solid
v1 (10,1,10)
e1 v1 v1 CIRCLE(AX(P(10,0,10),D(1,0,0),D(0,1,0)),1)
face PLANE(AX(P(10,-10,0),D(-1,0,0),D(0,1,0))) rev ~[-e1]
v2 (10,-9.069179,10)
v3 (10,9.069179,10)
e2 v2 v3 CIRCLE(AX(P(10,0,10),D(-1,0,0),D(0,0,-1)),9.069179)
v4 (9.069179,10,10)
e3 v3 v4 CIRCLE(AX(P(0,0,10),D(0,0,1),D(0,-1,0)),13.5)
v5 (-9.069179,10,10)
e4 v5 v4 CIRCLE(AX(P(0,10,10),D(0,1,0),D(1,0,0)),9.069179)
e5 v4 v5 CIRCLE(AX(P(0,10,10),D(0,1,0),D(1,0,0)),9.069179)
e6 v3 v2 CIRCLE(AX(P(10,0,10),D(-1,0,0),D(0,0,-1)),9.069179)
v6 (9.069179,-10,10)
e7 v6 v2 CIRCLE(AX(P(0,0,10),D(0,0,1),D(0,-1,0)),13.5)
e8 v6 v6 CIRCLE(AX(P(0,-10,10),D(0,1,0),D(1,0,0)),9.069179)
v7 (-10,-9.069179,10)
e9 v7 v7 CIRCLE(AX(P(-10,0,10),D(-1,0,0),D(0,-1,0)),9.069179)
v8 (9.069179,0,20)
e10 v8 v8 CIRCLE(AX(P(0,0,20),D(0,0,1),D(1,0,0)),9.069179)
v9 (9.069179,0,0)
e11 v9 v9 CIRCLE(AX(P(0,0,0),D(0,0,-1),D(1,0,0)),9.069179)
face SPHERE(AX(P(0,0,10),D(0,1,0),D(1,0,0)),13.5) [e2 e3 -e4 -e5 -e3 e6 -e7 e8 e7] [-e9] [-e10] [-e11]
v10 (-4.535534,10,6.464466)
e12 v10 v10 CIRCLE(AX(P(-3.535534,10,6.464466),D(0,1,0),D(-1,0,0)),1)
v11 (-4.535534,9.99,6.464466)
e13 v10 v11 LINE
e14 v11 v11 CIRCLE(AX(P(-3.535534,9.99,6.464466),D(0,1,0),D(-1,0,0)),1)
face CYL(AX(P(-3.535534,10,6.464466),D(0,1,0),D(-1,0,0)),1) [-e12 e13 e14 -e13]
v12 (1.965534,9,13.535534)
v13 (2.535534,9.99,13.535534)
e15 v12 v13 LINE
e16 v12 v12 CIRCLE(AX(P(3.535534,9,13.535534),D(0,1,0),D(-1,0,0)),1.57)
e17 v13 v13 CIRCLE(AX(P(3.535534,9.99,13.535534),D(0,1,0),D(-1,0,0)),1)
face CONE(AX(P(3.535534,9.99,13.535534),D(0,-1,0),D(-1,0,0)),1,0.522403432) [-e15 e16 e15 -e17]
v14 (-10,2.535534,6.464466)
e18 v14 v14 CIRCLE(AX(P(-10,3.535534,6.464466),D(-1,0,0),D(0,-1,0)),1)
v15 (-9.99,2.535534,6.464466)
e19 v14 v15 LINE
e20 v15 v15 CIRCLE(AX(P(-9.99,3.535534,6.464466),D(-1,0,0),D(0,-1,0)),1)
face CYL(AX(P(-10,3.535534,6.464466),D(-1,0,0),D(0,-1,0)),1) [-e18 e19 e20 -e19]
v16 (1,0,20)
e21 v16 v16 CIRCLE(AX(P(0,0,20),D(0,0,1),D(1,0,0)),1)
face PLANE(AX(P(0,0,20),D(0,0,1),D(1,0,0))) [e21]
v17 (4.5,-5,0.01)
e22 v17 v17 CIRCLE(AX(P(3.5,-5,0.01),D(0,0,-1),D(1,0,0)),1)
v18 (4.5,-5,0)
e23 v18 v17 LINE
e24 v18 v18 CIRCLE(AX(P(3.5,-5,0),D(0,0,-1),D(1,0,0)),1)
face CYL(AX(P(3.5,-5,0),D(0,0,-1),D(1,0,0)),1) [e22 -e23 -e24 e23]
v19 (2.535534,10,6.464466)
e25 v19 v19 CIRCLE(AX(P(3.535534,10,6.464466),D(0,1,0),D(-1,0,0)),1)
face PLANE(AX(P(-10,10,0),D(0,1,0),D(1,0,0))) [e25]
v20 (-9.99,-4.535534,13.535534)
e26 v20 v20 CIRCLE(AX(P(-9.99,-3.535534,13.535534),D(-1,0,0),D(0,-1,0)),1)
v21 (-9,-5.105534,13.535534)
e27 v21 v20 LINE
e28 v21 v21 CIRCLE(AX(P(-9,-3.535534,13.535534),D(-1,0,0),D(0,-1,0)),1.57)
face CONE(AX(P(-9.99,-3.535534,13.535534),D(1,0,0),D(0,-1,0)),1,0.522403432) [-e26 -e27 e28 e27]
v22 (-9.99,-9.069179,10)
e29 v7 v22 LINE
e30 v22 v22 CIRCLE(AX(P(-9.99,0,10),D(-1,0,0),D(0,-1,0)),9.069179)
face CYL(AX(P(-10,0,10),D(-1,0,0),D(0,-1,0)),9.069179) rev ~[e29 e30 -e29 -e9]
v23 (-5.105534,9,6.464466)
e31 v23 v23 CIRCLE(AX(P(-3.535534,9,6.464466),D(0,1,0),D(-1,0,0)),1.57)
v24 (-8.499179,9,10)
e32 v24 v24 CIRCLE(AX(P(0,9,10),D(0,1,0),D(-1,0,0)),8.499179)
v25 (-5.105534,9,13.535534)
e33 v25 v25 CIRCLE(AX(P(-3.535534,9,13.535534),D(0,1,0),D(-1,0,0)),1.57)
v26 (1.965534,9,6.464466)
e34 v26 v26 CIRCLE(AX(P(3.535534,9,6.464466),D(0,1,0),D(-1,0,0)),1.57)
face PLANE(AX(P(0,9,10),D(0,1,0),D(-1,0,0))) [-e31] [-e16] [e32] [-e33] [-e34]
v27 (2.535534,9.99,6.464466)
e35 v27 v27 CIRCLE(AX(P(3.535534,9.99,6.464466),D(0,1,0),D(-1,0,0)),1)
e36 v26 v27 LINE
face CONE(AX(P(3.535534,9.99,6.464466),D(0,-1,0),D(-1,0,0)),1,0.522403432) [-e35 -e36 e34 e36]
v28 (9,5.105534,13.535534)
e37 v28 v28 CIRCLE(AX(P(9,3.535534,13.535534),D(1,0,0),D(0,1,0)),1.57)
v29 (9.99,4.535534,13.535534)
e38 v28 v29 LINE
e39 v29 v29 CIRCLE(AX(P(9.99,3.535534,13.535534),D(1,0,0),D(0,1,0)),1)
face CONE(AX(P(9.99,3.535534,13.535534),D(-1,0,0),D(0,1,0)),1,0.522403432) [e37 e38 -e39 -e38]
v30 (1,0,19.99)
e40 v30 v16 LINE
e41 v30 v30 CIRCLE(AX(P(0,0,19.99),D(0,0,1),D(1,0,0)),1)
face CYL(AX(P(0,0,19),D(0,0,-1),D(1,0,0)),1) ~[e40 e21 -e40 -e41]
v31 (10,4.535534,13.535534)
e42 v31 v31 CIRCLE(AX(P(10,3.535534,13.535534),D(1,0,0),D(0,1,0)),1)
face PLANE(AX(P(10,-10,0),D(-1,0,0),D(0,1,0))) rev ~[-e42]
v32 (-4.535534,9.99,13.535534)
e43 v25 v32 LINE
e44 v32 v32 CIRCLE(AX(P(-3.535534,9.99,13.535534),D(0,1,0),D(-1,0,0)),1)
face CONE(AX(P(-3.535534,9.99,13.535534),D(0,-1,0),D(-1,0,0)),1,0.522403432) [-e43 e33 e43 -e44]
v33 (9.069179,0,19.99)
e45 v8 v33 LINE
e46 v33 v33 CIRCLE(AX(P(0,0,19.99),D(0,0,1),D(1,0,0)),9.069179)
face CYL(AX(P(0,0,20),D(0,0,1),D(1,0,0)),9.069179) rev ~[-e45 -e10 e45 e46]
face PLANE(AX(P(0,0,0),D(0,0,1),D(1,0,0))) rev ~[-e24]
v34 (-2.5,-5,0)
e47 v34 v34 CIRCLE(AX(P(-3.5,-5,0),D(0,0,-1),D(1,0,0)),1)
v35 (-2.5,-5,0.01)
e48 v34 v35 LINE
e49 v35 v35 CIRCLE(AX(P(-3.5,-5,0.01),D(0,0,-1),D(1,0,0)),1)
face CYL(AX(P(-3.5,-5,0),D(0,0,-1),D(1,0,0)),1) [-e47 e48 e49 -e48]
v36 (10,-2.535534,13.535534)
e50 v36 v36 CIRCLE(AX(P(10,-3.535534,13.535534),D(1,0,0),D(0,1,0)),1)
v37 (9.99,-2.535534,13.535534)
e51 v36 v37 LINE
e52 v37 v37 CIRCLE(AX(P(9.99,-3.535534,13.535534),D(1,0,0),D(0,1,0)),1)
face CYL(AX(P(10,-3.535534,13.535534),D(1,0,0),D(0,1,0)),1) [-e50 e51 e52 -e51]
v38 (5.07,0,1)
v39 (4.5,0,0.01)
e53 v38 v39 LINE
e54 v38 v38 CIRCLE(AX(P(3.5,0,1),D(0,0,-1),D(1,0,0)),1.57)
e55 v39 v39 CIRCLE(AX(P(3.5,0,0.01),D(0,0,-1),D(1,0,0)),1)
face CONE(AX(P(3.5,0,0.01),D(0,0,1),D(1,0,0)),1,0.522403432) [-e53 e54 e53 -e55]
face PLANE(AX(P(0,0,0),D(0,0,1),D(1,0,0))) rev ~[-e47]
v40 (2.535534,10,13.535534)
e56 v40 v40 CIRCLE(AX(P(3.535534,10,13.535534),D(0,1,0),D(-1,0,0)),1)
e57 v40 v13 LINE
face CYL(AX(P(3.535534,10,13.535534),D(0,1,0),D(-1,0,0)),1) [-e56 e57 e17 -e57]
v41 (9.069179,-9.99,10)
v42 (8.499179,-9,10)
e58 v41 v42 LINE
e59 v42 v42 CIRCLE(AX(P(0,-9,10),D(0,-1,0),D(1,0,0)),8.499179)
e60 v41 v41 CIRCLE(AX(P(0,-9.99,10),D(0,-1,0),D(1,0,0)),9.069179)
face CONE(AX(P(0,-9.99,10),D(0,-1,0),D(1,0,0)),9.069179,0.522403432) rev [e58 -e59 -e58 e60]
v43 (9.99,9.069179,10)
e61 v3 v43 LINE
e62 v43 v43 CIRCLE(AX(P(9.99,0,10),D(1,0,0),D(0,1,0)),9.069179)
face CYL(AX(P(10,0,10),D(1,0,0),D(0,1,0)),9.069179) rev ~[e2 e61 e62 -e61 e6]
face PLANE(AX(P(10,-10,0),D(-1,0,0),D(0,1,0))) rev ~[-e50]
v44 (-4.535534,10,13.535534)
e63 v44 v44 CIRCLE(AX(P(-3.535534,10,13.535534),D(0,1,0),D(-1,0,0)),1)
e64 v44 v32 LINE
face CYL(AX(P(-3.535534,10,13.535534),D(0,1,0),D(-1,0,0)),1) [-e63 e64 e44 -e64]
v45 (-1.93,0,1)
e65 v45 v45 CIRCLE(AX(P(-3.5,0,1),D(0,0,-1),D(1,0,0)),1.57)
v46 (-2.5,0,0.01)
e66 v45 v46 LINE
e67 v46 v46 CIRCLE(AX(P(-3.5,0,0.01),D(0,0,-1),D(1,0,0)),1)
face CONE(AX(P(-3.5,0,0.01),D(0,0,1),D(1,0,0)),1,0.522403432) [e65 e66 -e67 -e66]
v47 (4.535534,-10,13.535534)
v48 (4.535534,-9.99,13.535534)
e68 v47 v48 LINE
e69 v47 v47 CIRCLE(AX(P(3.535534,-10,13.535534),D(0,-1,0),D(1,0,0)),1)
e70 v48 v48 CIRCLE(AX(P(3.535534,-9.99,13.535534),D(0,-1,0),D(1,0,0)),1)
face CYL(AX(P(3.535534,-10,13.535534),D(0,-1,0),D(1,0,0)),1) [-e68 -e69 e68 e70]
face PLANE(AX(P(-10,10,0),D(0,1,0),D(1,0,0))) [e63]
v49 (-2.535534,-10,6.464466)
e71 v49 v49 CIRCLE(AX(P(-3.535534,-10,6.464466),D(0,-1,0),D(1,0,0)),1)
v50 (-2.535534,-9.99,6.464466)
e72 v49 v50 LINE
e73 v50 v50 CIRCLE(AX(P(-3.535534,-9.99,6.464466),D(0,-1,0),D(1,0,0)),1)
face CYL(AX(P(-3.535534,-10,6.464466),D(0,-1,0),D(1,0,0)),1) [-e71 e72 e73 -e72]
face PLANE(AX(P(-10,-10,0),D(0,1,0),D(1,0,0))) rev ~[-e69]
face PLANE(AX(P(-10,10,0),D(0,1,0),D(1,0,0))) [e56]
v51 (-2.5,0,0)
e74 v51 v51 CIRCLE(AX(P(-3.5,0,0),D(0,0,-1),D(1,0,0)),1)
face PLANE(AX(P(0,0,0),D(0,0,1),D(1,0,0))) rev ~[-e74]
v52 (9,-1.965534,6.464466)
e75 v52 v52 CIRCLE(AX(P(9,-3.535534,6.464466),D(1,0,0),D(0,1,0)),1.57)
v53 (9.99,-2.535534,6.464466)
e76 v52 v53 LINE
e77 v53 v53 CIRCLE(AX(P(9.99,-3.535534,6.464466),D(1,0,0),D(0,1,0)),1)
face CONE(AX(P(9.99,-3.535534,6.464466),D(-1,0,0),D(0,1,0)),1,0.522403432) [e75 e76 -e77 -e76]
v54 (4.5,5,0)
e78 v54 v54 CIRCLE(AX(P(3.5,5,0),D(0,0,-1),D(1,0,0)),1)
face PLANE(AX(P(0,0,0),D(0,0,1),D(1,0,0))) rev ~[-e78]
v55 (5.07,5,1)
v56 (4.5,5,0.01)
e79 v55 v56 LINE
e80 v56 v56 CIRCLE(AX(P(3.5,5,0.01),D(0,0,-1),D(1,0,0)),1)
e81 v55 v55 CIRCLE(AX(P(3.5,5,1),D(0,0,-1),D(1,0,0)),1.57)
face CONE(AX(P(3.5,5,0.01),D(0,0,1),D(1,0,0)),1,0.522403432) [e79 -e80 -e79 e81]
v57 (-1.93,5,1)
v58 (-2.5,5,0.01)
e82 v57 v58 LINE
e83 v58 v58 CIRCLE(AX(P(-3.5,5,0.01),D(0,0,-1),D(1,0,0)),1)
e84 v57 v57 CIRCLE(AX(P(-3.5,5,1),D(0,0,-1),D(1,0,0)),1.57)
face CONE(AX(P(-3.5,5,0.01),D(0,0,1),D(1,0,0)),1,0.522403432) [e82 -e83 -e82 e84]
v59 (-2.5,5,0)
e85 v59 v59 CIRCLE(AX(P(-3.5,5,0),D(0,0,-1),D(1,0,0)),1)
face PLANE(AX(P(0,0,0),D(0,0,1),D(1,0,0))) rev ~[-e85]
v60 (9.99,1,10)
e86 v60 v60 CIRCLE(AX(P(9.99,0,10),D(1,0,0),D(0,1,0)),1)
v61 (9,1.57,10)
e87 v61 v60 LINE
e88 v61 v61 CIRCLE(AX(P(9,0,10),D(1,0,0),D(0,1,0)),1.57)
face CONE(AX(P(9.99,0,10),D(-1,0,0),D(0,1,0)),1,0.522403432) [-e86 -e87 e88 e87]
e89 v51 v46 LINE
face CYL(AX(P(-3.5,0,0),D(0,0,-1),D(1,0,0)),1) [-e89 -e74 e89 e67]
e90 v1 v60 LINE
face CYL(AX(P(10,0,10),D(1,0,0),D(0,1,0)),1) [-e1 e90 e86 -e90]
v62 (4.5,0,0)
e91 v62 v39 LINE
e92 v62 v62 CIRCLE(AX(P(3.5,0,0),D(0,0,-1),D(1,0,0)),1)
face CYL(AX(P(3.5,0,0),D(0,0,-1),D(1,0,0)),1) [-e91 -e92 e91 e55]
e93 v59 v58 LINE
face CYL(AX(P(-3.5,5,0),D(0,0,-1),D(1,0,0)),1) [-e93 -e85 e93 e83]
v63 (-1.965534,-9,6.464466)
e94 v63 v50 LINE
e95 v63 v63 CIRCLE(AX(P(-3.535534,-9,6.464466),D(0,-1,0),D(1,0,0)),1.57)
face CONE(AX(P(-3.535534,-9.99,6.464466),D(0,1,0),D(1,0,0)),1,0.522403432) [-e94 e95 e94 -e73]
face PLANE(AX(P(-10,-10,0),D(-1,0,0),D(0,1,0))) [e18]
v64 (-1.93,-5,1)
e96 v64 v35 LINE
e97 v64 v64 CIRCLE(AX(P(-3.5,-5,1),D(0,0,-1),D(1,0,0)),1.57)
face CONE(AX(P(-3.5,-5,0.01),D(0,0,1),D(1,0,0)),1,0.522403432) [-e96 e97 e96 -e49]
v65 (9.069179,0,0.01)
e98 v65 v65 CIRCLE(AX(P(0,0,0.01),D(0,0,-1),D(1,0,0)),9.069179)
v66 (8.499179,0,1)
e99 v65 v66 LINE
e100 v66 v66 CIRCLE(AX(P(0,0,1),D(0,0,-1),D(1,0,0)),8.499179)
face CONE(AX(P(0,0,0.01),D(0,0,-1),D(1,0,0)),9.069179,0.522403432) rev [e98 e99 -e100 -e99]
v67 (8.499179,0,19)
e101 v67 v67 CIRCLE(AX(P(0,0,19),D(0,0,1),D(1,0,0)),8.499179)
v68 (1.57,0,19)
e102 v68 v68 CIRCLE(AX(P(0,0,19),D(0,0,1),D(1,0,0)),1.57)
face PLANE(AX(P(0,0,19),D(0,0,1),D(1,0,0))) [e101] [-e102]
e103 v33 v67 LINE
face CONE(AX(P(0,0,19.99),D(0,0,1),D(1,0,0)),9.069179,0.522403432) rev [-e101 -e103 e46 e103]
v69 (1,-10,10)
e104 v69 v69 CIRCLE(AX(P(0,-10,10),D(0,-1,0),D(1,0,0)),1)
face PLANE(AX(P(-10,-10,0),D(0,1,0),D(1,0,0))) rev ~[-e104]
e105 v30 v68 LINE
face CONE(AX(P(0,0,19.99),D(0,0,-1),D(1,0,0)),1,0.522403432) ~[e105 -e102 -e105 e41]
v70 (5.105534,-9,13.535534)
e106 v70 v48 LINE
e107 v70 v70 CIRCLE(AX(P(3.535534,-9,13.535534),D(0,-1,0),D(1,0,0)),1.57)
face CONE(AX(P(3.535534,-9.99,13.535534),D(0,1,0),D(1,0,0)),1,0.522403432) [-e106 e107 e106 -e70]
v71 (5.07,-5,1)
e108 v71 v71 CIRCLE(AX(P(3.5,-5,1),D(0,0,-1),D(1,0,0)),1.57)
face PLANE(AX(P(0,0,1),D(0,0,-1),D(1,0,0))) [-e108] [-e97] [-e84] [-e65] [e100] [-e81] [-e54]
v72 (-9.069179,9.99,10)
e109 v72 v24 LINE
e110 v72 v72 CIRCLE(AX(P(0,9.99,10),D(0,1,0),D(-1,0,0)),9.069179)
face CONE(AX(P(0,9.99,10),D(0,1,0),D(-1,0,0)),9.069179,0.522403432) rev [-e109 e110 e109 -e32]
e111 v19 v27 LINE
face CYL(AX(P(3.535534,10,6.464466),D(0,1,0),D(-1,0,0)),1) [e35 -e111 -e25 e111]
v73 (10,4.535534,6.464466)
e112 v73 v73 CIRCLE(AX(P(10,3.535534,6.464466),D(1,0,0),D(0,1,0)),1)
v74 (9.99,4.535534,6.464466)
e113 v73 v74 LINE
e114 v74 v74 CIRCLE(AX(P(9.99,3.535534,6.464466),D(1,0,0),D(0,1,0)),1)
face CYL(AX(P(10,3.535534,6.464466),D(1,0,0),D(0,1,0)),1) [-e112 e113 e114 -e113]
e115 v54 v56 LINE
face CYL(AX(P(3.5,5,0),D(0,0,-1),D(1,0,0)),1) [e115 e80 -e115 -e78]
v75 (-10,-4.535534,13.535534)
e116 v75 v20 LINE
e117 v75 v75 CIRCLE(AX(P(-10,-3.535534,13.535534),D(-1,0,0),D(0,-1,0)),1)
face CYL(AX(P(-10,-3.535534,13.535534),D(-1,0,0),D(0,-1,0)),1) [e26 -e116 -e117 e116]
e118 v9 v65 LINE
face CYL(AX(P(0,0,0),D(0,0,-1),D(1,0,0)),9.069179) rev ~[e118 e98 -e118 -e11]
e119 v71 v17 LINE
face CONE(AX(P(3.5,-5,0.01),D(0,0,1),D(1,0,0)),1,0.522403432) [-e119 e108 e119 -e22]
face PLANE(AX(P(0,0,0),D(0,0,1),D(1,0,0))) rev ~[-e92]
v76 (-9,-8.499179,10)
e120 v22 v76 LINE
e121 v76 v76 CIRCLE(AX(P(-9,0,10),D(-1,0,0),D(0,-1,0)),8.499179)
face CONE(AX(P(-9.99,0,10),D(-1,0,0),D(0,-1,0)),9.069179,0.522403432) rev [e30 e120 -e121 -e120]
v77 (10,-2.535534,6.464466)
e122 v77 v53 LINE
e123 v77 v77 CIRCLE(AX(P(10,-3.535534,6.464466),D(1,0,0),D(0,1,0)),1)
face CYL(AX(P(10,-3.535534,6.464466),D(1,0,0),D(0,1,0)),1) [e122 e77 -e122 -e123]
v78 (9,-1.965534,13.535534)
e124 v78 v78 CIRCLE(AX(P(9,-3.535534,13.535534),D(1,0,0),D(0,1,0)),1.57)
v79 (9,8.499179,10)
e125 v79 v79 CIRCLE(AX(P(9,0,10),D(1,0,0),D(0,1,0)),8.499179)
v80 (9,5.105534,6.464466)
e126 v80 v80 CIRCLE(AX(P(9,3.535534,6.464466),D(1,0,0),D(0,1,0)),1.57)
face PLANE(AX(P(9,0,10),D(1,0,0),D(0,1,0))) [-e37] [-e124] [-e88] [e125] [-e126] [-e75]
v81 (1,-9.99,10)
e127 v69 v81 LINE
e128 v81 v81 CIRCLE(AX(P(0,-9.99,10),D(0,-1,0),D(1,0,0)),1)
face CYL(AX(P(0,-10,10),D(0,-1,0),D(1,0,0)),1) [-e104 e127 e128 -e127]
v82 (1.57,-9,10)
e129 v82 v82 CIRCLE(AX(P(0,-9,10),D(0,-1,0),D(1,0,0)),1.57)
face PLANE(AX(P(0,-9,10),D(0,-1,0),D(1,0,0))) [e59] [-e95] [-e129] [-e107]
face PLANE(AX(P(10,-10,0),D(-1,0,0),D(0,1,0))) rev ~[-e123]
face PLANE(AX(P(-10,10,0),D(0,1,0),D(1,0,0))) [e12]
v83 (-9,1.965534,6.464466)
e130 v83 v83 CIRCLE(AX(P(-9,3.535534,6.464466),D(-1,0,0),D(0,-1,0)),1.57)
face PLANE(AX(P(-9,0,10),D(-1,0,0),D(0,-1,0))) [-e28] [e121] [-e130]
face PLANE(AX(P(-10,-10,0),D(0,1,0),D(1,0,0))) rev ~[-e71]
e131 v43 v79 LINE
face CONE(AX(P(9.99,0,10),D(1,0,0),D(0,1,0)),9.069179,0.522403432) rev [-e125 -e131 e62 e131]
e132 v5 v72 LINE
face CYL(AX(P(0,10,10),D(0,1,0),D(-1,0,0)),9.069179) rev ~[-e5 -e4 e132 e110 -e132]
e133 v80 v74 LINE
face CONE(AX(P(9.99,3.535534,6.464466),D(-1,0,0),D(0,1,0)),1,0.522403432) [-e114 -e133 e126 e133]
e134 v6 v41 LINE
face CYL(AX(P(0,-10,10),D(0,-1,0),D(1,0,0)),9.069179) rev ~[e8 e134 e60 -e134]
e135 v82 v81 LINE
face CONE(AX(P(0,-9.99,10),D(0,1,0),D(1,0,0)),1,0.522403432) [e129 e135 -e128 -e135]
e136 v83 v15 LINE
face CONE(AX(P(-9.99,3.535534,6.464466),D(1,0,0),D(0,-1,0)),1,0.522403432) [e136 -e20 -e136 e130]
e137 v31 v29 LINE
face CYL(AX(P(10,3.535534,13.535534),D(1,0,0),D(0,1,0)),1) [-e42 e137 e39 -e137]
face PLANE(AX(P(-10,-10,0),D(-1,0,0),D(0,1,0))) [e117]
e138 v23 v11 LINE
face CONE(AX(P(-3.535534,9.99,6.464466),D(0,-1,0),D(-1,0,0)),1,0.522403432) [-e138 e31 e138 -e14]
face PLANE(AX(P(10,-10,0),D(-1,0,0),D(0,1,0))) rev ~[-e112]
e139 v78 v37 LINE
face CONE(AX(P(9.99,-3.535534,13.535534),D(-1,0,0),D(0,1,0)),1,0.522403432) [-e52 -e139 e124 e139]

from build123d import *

# Parameters (mm, degrees)
SKETCH008_R                               = 9.069179
SKETCH008_R_2                             = 1
EXTRUDE009_DEPTH                          = 1
SKETCH007_R                               = 9.069179
SKETCH007_R_2                             = 1
EXTRUDE008_DEPTH                          = 1
SKETCH006_AS_DRAWN_R                      = 9.069179
SKETCH006_AS_DRAWN_R_2                    = 1
EXTRUDE007_DEPTH                          = 1
EXTRUDE007_ONTO_SKETCH006_ROLL_ANGLE      = 90
EXTRUDE007_ONTO_SKETCH006_PLACEMENT_ANGLE = 180
SKETCH005_R                               = 9.069179
SKETCH005_R_2                             = 1
EXTRUDE006_DEPTH                          = 1
SKETCH004_AS_DRAWN_R                      = 9.069179
SKETCH004_AS_DRAWN_R_2                    = 1
EXTRUDE005_DEPTH                          = 1
EXTRUDE005_ONTO_SKETCH004_ROLL_ANGLE      = 90
SKETCH003_R                               = 1
EXTRUDE004_DEPTH                          = 1
SKETCH002_R                               = 9.069179
EXTRUDE_DEPTH                             = 1
SKETCH001_W                               = 20
SKETCH001_H                               = 20
EXTRUDE003_DEPTH                          = 20
CHAMFER_SIZE2                             = 0.57
CHAMFER_SIZE                              = 0.99
CHAMFER001_SIZE2                          = 0.57
CHAMFER001_SIZE                           = 0.99
CHAMFER002_SIZE2                          = 0.57
CHAMFER002_SIZE                           = 0.99
CHAMFER003_SIZE2                          = 0.99
CHAMFER003_SIZE                           = 0.57
CHAMFER004_SIZE2                          = 0.57
CHAMFER004_SIZE                           = 0.99
CHAMFER005_SIZE2                          = 0.99
CHAMFER005_SIZE                           = 0.57
CHAMFER006_SIZE2                          = 0.57
CHAMFER006_SIZE                           = 0.99
CHAMFER007_SIZE2                          = 0.99
CHAMFER007_SIZE                           = 0.57
CHAMFER008_SIZE2                          = 0.57
CHAMFER008_SIZE                           = 0.99
CHAMFER009_SIZE2                          = 0.99
CHAMFER009_SIZE                           = 0.57
CHAMFER010_SIZE2                          = 0.57
CHAMFER010_SIZE                           = 0.99
CHAMFER011_SIZE2                          = 0.99
CHAMFER011_SIZE                           = 0.57


with BuildPart() as extrude009:
    # Sketch008 → Extrude009 (new body)
    with BuildSketch(Plane(origin=(0, 0, 0), x_dir=(1, 0, 0), z_dir=(0, 0, -1))):
        Circle(SKETCH008_R)
        with Locations((-3.5, 5)):
            Circle(SKETCH008_R_2, mode=Mode.SUBTRACT)
        with Locations((-3.5, -5)):
            Circle(SKETCH008_R_2, mode=Mode.SUBTRACT)
        with Locations((3.5, -5)):
            Circle(SKETCH008_R_2, mode=Mode.SUBTRACT)
        with Locations((3.5, 5)):
            Circle(SKETCH008_R_2, mode=Mode.SUBTRACT)
        with Locations((-3.5, 0)):
            Circle(SKETCH008_R_2, mode=Mode.SUBTRACT)
        with Locations((3.5, 0)):
            Circle(SKETCH008_R_2, mode=Mode.SUBTRACT)
    extrude(amount=-EXTRUDE009_DEPTH)


with BuildPart() as extrude008:
    # Sketch007 → Extrude008 (new body)
    with BuildSketch(Plane(origin=(-10, 0, 0), x_dir=(0, -1, 0), z_dir=(-1, 0, 0))):
        with Locations((0, 10)):
            Circle(SKETCH007_R)
        with Locations((3.535534, 13.535534)):
            Circle(SKETCH007_R_2, mode=Mode.SUBTRACT)
        with Locations((-3.535534, 6.464466)):
            Circle(SKETCH007_R_2, mode=Mode.SUBTRACT)
    extrude(amount=-EXTRUDE008_DEPTH)


with BuildPart() as extrude007:
    # Sketch006 as drawn → Extrude007 (new)
    with BuildSketch(Plane.XY):
        with Locations((0, 10)):
            Circle(SKETCH006_AS_DRAWN_R)
        with Locations((-3.535534, 13.535534)):
            Circle(SKETCH006_AS_DRAWN_R_2, mode=Mode.SUBTRACT)
        with Locations((3.535534, 13.535534)):
            Circle(SKETCH006_AS_DRAWN_R_2, mode=Mode.SUBTRACT)
        with Locations((3.535534, 6.464466)):
            Circle(SKETCH006_AS_DRAWN_R_2, mode=Mode.SUBTRACT)
        with Locations((-3.535534, 6.464466)):
            Circle(SKETCH006_AS_DRAWN_R_2, mode=Mode.SUBTRACT)
    extrude(amount=-EXTRUDE007_DEPTH)


with BuildPart() as extrude007_1:
    # Extrude007 onto Sketch006 roll: moved
    add(extrude007.part.rotate(Axis((0, 0, 0), (1, 0, 0)), EXTRUDE007_ONTO_SKETCH006_ROLL_ANGLE))


with BuildPart() as extrude007_2:
    # Extrude007 onto Sketch006 placement: moved
    add(extrude007_1.part.moved(Location((0, 10, 0))).rotate(Axis((0, 10, 0), (0, 0, 1)), EXTRUDE007_ONTO_SKETCH006_PLACEMENT_ANGLE))


with BuildPart() as extrude006:
    # Sketch005 → Extrude006 (new body)
    with BuildSketch(Plane.YZ.offset(10)):
        with Locations((0, 10)):
            Circle(SKETCH005_R)
        with Locations((0, 10)):
            Circle(SKETCH005_R_2, mode=Mode.SUBTRACT)
        with Locations((-3.535534, 6.464466)):
            Circle(SKETCH005_R_2, mode=Mode.SUBTRACT)
        with Locations((-3.535534, 13.535534)):
            Circle(SKETCH005_R_2, mode=Mode.SUBTRACT)
        with Locations((3.535534, 13.535534)):
            Circle(SKETCH005_R_2, mode=Mode.SUBTRACT)
        with Locations((3.535534, 6.464466)):
            Circle(SKETCH005_R_2, mode=Mode.SUBTRACT)
    extrude(amount=-EXTRUDE006_DEPTH)


with BuildPart() as extrude005:
    # Sketch004 as drawn → Extrude005 (new)
    with BuildSketch(Plane.XY):
        with Locations((0, 10)):
            Circle(SKETCH004_AS_DRAWN_R)
        with Locations((0, 10)):
            Circle(SKETCH004_AS_DRAWN_R_2, mode=Mode.SUBTRACT)
        with Locations((3.535534, 13.535534)):
            Circle(SKETCH004_AS_DRAWN_R_2, mode=Mode.SUBTRACT)
        with Locations((-3.535534, 6.464466)):
            Circle(SKETCH004_AS_DRAWN_R_2, mode=Mode.SUBTRACT)
    extrude(amount=-EXTRUDE005_DEPTH)


with BuildPart() as extrude005_1:
    # Extrude005 onto Sketch004 roll: moved
    add(extrude005.part.rotate(Axis((0, 0, 0), (1, 0, 0)), EXTRUDE005_ONTO_SKETCH004_ROLL_ANGLE))


with BuildPart() as extrude005_2:
    # Extrude005 onto Sketch004 placement: moved
    add(extrude005_1.part.moved(Location((0, -10, 0))))


with BuildPart() as extrude004:
    # Sketch003 → Extrude004 (new body)
    with BuildSketch(Plane.XY.offset(19)):
        Circle(SKETCH003_R)
    extrude(amount=EXTRUDE004_DEPTH)


with BuildPart() as extrude_body:
    # Sketch002 → Extrude (new body)
    with BuildSketch(Plane.XY.offset(20)):
        Circle(SKETCH002_R)
    extrude(amount=-EXTRUDE_DEPTH)


with BuildPart() as extrude003:
    # Sketch001 → Extrude003 (new body)
    with BuildSketch(Plane.XY):
        Rectangle(SKETCH001_W, SKETCH001_H)
    extrude(amount=EXTRUDE003_DEPTH)


with BuildPart() as chamfer011:
    # Sketch → Revolve (revolve)
    with BuildSketch(Plane.XY):
        with BuildLine():
            ThreePointArc((0, -13.5), (13.5, 0), (0, 13.5))
            Line((0, 13.5), (0, -13.5))
        make_face()
    revolve(axis=Axis((0, 0, 0), (0, 1, 0)))


with BuildPart() as chamfer011_1:
    # Revolve placement: moved
    add(chamfer011.part.moved(Location((0, 0, 10))))

    # Common: intersect Extrude003
    add(extrude003.part, mode=Mode.INTERSECT)

    # Cut: cut Extrude body
    add(extrude_body.part, mode=Mode.SUBTRACT)

    # Chamfer
    chamfer_edges = [chamfer011_1.edges().sort_by_distance(p)[0] for p in [
        (-9.069179, 0, 19),
    ]]
    chamfer_side = chamfer011_1.faces().sort_by_distance((-9.069179, 0, 19.5))[0]
    chamfer(chamfer_edges, length=CHAMFER_SIZE, length2=CHAMFER_SIZE2, reference=chamfer_side)

    # Fusion: union Extrude004
    add(extrude004.part)

    # Chamfer001
    chamfer001_edges = [chamfer011_1.edges().sort_by_distance(p)[0] for p in [
        (-1, 0, 19),
    ]]
    chamfer001_side = chamfer011_1.faces().sort_by_distance((-1, 0, 19.5))[0]
    chamfer(chamfer001_edges, length=CHAMFER001_SIZE, length2=CHAMFER001_SIZE2, reference=chamfer001_side)

    # Cut001: cut Extrude005
    add(extrude005_2.part, mode=Mode.SUBTRACT)

    # Chamfer002
    chamfer002_edges = [chamfer011_1.edges().sort_by_distance(p)[0] for p in [
        (-9.069179, -9, 10),
    ]]
    chamfer002_side = chamfer011_1.faces().sort_by_distance((-9.069179, -9.5, 10))[0]
    chamfer(chamfer002_edges, length=CHAMFER002_SIZE, length2=CHAMFER002_SIZE2, reference=chamfer002_side)

    # Chamfer003
    chamfer003_edges = [chamfer011_1.edges().sort_by_distance(p)[0] for p in [
        (2.535534, -9, 13.535534),
        (-1, -9, 10),
        (-4.535534, -9, 6.464466),
    ]]
    chamfer003_side = chamfer011_1.faces().sort_by_distance((-8.258786, -9, 10))[0]
    chamfer(chamfer003_edges, length=CHAMFER003_SIZE, length2=CHAMFER003_SIZE2, reference=chamfer003_side)

    # Cut002: cut Extrude006
    add(extrude006.part, mode=Mode.SUBTRACT)

    # Chamfer004
    chamfer004_edges = [chamfer011_1.edges().sort_by_distance(p)[0] for p in [
        (9, -9.069179, 10),
    ]]
    chamfer004_side = chamfer011_1.faces().sort_by_distance((9.5, -9.069179, 10))[0]
    chamfer(chamfer004_edges, length=CHAMFER004_SIZE, length2=CHAMFER004_SIZE2, reference=chamfer004_side)

    # Chamfer005
    chamfer005_edges = [chamfer011_1.edges().sort_by_distance(p)[0] for p in [
        (9, 2.535534, 13.535534),
        (9, -4.535534, 13.535534),
        (9, -1, 10),
        (9, 2.535534, 6.464466),
        (9, -4.535534, 6.464466),
    ]]
    chamfer005_side = chamfer011_1.faces().sort_by_distance((9, -8.258786, 10))[0]
    chamfer(chamfer005_edges, length=CHAMFER005_SIZE, length2=CHAMFER005_SIZE2, reference=chamfer005_side)

    # Cut003: cut Extrude007
    add(extrude007_2.part, mode=Mode.SUBTRACT)

    # Chamfer006
    chamfer006_edges = [chamfer011_1.edges().sort_by_distance(p)[0] for p in [
        (9.069179, 9, 10),
    ]]
    chamfer006_side = chamfer011_1.faces().sort_by_distance((9.069179, 9.5, 10))[0]
    chamfer(chamfer006_edges, length=CHAMFER006_SIZE, length2=CHAMFER006_SIZE2, reference=chamfer006_side)

    # Chamfer007
    chamfer007_edges = [chamfer011_1.edges().sort_by_distance(p)[0] for p in [
        (-2.535534, 9, 13.535534),
        (4.535534, 9, 13.535534),
        (4.535534, 9, 6.464466),
        (-2.535534, 9, 6.464466),
    ]]
    chamfer007_side = chamfer011_1.faces().sort_by_distance((0, 9, 10))[0]
    chamfer(chamfer007_edges, length=CHAMFER007_SIZE, length2=CHAMFER007_SIZE2, reference=chamfer007_side)

    # Cut004: cut Extrude008
    add(extrude008.part, mode=Mode.SUBTRACT)

    # Chamfer008
    chamfer008_edges = [chamfer011_1.edges().sort_by_distance(p)[0] for p in [
        (-9, 9.069179, 10),
    ]]
    chamfer008_side = chamfer011_1.faces().sort_by_distance((-9.5, 9.069179, 10))[0]
    chamfer(chamfer008_edges, length=CHAMFER008_SIZE, length2=CHAMFER008_SIZE2, reference=chamfer008_side)

    # Chamfer009
    chamfer009_edges = [chamfer011_1.edges().sort_by_distance(p)[0] for p in [
        (-9, -2.535534, 13.535534),
        (-9, 4.535534, 6.464466),
    ]]
    chamfer009_side = chamfer011_1.faces().sort_by_distance((-9, 0, 10))[0]
    chamfer(chamfer009_edges, length=CHAMFER009_SIZE, length2=CHAMFER009_SIZE2, reference=chamfer009_side)

    # Cut005: cut Extrude009
    add(extrude009.part, mode=Mode.SUBTRACT)

    # Chamfer010
    chamfer010_edges = [chamfer011_1.edges().sort_by_distance(p)[0] for p in [
        (-9.069179, 0, 1),
    ]]
    chamfer010_side = chamfer011_1.faces().sort_by_distance((-9.069179, 0, 0.5))[0]
    chamfer(chamfer010_edges, length=CHAMFER010_SIZE, length2=CHAMFER010_SIZE2, reference=chamfer010_side)

    # Chamfer011
    chamfer011_edges = [chamfer011_1.edges().sort_by_distance(p)[0] for p in [
        (2.5, -5, 1),
        (2.5, 0, 1),
        (-4.5, 0, 1),
        (2.5, 5, 1),
        (-4.5, 5, 1),
        (-4.5, -5, 1),
    ]]
    chamfer011_side = chamfer011_1.faces().sort_by_distance((0, 0, 1))[0]
    chamfer(chamfer011_edges, length=CHAMFER011_SIZE, length2=CHAMFER011_SIZE2, reference=chamfer011_side)


solid = chamfer011_1.part
